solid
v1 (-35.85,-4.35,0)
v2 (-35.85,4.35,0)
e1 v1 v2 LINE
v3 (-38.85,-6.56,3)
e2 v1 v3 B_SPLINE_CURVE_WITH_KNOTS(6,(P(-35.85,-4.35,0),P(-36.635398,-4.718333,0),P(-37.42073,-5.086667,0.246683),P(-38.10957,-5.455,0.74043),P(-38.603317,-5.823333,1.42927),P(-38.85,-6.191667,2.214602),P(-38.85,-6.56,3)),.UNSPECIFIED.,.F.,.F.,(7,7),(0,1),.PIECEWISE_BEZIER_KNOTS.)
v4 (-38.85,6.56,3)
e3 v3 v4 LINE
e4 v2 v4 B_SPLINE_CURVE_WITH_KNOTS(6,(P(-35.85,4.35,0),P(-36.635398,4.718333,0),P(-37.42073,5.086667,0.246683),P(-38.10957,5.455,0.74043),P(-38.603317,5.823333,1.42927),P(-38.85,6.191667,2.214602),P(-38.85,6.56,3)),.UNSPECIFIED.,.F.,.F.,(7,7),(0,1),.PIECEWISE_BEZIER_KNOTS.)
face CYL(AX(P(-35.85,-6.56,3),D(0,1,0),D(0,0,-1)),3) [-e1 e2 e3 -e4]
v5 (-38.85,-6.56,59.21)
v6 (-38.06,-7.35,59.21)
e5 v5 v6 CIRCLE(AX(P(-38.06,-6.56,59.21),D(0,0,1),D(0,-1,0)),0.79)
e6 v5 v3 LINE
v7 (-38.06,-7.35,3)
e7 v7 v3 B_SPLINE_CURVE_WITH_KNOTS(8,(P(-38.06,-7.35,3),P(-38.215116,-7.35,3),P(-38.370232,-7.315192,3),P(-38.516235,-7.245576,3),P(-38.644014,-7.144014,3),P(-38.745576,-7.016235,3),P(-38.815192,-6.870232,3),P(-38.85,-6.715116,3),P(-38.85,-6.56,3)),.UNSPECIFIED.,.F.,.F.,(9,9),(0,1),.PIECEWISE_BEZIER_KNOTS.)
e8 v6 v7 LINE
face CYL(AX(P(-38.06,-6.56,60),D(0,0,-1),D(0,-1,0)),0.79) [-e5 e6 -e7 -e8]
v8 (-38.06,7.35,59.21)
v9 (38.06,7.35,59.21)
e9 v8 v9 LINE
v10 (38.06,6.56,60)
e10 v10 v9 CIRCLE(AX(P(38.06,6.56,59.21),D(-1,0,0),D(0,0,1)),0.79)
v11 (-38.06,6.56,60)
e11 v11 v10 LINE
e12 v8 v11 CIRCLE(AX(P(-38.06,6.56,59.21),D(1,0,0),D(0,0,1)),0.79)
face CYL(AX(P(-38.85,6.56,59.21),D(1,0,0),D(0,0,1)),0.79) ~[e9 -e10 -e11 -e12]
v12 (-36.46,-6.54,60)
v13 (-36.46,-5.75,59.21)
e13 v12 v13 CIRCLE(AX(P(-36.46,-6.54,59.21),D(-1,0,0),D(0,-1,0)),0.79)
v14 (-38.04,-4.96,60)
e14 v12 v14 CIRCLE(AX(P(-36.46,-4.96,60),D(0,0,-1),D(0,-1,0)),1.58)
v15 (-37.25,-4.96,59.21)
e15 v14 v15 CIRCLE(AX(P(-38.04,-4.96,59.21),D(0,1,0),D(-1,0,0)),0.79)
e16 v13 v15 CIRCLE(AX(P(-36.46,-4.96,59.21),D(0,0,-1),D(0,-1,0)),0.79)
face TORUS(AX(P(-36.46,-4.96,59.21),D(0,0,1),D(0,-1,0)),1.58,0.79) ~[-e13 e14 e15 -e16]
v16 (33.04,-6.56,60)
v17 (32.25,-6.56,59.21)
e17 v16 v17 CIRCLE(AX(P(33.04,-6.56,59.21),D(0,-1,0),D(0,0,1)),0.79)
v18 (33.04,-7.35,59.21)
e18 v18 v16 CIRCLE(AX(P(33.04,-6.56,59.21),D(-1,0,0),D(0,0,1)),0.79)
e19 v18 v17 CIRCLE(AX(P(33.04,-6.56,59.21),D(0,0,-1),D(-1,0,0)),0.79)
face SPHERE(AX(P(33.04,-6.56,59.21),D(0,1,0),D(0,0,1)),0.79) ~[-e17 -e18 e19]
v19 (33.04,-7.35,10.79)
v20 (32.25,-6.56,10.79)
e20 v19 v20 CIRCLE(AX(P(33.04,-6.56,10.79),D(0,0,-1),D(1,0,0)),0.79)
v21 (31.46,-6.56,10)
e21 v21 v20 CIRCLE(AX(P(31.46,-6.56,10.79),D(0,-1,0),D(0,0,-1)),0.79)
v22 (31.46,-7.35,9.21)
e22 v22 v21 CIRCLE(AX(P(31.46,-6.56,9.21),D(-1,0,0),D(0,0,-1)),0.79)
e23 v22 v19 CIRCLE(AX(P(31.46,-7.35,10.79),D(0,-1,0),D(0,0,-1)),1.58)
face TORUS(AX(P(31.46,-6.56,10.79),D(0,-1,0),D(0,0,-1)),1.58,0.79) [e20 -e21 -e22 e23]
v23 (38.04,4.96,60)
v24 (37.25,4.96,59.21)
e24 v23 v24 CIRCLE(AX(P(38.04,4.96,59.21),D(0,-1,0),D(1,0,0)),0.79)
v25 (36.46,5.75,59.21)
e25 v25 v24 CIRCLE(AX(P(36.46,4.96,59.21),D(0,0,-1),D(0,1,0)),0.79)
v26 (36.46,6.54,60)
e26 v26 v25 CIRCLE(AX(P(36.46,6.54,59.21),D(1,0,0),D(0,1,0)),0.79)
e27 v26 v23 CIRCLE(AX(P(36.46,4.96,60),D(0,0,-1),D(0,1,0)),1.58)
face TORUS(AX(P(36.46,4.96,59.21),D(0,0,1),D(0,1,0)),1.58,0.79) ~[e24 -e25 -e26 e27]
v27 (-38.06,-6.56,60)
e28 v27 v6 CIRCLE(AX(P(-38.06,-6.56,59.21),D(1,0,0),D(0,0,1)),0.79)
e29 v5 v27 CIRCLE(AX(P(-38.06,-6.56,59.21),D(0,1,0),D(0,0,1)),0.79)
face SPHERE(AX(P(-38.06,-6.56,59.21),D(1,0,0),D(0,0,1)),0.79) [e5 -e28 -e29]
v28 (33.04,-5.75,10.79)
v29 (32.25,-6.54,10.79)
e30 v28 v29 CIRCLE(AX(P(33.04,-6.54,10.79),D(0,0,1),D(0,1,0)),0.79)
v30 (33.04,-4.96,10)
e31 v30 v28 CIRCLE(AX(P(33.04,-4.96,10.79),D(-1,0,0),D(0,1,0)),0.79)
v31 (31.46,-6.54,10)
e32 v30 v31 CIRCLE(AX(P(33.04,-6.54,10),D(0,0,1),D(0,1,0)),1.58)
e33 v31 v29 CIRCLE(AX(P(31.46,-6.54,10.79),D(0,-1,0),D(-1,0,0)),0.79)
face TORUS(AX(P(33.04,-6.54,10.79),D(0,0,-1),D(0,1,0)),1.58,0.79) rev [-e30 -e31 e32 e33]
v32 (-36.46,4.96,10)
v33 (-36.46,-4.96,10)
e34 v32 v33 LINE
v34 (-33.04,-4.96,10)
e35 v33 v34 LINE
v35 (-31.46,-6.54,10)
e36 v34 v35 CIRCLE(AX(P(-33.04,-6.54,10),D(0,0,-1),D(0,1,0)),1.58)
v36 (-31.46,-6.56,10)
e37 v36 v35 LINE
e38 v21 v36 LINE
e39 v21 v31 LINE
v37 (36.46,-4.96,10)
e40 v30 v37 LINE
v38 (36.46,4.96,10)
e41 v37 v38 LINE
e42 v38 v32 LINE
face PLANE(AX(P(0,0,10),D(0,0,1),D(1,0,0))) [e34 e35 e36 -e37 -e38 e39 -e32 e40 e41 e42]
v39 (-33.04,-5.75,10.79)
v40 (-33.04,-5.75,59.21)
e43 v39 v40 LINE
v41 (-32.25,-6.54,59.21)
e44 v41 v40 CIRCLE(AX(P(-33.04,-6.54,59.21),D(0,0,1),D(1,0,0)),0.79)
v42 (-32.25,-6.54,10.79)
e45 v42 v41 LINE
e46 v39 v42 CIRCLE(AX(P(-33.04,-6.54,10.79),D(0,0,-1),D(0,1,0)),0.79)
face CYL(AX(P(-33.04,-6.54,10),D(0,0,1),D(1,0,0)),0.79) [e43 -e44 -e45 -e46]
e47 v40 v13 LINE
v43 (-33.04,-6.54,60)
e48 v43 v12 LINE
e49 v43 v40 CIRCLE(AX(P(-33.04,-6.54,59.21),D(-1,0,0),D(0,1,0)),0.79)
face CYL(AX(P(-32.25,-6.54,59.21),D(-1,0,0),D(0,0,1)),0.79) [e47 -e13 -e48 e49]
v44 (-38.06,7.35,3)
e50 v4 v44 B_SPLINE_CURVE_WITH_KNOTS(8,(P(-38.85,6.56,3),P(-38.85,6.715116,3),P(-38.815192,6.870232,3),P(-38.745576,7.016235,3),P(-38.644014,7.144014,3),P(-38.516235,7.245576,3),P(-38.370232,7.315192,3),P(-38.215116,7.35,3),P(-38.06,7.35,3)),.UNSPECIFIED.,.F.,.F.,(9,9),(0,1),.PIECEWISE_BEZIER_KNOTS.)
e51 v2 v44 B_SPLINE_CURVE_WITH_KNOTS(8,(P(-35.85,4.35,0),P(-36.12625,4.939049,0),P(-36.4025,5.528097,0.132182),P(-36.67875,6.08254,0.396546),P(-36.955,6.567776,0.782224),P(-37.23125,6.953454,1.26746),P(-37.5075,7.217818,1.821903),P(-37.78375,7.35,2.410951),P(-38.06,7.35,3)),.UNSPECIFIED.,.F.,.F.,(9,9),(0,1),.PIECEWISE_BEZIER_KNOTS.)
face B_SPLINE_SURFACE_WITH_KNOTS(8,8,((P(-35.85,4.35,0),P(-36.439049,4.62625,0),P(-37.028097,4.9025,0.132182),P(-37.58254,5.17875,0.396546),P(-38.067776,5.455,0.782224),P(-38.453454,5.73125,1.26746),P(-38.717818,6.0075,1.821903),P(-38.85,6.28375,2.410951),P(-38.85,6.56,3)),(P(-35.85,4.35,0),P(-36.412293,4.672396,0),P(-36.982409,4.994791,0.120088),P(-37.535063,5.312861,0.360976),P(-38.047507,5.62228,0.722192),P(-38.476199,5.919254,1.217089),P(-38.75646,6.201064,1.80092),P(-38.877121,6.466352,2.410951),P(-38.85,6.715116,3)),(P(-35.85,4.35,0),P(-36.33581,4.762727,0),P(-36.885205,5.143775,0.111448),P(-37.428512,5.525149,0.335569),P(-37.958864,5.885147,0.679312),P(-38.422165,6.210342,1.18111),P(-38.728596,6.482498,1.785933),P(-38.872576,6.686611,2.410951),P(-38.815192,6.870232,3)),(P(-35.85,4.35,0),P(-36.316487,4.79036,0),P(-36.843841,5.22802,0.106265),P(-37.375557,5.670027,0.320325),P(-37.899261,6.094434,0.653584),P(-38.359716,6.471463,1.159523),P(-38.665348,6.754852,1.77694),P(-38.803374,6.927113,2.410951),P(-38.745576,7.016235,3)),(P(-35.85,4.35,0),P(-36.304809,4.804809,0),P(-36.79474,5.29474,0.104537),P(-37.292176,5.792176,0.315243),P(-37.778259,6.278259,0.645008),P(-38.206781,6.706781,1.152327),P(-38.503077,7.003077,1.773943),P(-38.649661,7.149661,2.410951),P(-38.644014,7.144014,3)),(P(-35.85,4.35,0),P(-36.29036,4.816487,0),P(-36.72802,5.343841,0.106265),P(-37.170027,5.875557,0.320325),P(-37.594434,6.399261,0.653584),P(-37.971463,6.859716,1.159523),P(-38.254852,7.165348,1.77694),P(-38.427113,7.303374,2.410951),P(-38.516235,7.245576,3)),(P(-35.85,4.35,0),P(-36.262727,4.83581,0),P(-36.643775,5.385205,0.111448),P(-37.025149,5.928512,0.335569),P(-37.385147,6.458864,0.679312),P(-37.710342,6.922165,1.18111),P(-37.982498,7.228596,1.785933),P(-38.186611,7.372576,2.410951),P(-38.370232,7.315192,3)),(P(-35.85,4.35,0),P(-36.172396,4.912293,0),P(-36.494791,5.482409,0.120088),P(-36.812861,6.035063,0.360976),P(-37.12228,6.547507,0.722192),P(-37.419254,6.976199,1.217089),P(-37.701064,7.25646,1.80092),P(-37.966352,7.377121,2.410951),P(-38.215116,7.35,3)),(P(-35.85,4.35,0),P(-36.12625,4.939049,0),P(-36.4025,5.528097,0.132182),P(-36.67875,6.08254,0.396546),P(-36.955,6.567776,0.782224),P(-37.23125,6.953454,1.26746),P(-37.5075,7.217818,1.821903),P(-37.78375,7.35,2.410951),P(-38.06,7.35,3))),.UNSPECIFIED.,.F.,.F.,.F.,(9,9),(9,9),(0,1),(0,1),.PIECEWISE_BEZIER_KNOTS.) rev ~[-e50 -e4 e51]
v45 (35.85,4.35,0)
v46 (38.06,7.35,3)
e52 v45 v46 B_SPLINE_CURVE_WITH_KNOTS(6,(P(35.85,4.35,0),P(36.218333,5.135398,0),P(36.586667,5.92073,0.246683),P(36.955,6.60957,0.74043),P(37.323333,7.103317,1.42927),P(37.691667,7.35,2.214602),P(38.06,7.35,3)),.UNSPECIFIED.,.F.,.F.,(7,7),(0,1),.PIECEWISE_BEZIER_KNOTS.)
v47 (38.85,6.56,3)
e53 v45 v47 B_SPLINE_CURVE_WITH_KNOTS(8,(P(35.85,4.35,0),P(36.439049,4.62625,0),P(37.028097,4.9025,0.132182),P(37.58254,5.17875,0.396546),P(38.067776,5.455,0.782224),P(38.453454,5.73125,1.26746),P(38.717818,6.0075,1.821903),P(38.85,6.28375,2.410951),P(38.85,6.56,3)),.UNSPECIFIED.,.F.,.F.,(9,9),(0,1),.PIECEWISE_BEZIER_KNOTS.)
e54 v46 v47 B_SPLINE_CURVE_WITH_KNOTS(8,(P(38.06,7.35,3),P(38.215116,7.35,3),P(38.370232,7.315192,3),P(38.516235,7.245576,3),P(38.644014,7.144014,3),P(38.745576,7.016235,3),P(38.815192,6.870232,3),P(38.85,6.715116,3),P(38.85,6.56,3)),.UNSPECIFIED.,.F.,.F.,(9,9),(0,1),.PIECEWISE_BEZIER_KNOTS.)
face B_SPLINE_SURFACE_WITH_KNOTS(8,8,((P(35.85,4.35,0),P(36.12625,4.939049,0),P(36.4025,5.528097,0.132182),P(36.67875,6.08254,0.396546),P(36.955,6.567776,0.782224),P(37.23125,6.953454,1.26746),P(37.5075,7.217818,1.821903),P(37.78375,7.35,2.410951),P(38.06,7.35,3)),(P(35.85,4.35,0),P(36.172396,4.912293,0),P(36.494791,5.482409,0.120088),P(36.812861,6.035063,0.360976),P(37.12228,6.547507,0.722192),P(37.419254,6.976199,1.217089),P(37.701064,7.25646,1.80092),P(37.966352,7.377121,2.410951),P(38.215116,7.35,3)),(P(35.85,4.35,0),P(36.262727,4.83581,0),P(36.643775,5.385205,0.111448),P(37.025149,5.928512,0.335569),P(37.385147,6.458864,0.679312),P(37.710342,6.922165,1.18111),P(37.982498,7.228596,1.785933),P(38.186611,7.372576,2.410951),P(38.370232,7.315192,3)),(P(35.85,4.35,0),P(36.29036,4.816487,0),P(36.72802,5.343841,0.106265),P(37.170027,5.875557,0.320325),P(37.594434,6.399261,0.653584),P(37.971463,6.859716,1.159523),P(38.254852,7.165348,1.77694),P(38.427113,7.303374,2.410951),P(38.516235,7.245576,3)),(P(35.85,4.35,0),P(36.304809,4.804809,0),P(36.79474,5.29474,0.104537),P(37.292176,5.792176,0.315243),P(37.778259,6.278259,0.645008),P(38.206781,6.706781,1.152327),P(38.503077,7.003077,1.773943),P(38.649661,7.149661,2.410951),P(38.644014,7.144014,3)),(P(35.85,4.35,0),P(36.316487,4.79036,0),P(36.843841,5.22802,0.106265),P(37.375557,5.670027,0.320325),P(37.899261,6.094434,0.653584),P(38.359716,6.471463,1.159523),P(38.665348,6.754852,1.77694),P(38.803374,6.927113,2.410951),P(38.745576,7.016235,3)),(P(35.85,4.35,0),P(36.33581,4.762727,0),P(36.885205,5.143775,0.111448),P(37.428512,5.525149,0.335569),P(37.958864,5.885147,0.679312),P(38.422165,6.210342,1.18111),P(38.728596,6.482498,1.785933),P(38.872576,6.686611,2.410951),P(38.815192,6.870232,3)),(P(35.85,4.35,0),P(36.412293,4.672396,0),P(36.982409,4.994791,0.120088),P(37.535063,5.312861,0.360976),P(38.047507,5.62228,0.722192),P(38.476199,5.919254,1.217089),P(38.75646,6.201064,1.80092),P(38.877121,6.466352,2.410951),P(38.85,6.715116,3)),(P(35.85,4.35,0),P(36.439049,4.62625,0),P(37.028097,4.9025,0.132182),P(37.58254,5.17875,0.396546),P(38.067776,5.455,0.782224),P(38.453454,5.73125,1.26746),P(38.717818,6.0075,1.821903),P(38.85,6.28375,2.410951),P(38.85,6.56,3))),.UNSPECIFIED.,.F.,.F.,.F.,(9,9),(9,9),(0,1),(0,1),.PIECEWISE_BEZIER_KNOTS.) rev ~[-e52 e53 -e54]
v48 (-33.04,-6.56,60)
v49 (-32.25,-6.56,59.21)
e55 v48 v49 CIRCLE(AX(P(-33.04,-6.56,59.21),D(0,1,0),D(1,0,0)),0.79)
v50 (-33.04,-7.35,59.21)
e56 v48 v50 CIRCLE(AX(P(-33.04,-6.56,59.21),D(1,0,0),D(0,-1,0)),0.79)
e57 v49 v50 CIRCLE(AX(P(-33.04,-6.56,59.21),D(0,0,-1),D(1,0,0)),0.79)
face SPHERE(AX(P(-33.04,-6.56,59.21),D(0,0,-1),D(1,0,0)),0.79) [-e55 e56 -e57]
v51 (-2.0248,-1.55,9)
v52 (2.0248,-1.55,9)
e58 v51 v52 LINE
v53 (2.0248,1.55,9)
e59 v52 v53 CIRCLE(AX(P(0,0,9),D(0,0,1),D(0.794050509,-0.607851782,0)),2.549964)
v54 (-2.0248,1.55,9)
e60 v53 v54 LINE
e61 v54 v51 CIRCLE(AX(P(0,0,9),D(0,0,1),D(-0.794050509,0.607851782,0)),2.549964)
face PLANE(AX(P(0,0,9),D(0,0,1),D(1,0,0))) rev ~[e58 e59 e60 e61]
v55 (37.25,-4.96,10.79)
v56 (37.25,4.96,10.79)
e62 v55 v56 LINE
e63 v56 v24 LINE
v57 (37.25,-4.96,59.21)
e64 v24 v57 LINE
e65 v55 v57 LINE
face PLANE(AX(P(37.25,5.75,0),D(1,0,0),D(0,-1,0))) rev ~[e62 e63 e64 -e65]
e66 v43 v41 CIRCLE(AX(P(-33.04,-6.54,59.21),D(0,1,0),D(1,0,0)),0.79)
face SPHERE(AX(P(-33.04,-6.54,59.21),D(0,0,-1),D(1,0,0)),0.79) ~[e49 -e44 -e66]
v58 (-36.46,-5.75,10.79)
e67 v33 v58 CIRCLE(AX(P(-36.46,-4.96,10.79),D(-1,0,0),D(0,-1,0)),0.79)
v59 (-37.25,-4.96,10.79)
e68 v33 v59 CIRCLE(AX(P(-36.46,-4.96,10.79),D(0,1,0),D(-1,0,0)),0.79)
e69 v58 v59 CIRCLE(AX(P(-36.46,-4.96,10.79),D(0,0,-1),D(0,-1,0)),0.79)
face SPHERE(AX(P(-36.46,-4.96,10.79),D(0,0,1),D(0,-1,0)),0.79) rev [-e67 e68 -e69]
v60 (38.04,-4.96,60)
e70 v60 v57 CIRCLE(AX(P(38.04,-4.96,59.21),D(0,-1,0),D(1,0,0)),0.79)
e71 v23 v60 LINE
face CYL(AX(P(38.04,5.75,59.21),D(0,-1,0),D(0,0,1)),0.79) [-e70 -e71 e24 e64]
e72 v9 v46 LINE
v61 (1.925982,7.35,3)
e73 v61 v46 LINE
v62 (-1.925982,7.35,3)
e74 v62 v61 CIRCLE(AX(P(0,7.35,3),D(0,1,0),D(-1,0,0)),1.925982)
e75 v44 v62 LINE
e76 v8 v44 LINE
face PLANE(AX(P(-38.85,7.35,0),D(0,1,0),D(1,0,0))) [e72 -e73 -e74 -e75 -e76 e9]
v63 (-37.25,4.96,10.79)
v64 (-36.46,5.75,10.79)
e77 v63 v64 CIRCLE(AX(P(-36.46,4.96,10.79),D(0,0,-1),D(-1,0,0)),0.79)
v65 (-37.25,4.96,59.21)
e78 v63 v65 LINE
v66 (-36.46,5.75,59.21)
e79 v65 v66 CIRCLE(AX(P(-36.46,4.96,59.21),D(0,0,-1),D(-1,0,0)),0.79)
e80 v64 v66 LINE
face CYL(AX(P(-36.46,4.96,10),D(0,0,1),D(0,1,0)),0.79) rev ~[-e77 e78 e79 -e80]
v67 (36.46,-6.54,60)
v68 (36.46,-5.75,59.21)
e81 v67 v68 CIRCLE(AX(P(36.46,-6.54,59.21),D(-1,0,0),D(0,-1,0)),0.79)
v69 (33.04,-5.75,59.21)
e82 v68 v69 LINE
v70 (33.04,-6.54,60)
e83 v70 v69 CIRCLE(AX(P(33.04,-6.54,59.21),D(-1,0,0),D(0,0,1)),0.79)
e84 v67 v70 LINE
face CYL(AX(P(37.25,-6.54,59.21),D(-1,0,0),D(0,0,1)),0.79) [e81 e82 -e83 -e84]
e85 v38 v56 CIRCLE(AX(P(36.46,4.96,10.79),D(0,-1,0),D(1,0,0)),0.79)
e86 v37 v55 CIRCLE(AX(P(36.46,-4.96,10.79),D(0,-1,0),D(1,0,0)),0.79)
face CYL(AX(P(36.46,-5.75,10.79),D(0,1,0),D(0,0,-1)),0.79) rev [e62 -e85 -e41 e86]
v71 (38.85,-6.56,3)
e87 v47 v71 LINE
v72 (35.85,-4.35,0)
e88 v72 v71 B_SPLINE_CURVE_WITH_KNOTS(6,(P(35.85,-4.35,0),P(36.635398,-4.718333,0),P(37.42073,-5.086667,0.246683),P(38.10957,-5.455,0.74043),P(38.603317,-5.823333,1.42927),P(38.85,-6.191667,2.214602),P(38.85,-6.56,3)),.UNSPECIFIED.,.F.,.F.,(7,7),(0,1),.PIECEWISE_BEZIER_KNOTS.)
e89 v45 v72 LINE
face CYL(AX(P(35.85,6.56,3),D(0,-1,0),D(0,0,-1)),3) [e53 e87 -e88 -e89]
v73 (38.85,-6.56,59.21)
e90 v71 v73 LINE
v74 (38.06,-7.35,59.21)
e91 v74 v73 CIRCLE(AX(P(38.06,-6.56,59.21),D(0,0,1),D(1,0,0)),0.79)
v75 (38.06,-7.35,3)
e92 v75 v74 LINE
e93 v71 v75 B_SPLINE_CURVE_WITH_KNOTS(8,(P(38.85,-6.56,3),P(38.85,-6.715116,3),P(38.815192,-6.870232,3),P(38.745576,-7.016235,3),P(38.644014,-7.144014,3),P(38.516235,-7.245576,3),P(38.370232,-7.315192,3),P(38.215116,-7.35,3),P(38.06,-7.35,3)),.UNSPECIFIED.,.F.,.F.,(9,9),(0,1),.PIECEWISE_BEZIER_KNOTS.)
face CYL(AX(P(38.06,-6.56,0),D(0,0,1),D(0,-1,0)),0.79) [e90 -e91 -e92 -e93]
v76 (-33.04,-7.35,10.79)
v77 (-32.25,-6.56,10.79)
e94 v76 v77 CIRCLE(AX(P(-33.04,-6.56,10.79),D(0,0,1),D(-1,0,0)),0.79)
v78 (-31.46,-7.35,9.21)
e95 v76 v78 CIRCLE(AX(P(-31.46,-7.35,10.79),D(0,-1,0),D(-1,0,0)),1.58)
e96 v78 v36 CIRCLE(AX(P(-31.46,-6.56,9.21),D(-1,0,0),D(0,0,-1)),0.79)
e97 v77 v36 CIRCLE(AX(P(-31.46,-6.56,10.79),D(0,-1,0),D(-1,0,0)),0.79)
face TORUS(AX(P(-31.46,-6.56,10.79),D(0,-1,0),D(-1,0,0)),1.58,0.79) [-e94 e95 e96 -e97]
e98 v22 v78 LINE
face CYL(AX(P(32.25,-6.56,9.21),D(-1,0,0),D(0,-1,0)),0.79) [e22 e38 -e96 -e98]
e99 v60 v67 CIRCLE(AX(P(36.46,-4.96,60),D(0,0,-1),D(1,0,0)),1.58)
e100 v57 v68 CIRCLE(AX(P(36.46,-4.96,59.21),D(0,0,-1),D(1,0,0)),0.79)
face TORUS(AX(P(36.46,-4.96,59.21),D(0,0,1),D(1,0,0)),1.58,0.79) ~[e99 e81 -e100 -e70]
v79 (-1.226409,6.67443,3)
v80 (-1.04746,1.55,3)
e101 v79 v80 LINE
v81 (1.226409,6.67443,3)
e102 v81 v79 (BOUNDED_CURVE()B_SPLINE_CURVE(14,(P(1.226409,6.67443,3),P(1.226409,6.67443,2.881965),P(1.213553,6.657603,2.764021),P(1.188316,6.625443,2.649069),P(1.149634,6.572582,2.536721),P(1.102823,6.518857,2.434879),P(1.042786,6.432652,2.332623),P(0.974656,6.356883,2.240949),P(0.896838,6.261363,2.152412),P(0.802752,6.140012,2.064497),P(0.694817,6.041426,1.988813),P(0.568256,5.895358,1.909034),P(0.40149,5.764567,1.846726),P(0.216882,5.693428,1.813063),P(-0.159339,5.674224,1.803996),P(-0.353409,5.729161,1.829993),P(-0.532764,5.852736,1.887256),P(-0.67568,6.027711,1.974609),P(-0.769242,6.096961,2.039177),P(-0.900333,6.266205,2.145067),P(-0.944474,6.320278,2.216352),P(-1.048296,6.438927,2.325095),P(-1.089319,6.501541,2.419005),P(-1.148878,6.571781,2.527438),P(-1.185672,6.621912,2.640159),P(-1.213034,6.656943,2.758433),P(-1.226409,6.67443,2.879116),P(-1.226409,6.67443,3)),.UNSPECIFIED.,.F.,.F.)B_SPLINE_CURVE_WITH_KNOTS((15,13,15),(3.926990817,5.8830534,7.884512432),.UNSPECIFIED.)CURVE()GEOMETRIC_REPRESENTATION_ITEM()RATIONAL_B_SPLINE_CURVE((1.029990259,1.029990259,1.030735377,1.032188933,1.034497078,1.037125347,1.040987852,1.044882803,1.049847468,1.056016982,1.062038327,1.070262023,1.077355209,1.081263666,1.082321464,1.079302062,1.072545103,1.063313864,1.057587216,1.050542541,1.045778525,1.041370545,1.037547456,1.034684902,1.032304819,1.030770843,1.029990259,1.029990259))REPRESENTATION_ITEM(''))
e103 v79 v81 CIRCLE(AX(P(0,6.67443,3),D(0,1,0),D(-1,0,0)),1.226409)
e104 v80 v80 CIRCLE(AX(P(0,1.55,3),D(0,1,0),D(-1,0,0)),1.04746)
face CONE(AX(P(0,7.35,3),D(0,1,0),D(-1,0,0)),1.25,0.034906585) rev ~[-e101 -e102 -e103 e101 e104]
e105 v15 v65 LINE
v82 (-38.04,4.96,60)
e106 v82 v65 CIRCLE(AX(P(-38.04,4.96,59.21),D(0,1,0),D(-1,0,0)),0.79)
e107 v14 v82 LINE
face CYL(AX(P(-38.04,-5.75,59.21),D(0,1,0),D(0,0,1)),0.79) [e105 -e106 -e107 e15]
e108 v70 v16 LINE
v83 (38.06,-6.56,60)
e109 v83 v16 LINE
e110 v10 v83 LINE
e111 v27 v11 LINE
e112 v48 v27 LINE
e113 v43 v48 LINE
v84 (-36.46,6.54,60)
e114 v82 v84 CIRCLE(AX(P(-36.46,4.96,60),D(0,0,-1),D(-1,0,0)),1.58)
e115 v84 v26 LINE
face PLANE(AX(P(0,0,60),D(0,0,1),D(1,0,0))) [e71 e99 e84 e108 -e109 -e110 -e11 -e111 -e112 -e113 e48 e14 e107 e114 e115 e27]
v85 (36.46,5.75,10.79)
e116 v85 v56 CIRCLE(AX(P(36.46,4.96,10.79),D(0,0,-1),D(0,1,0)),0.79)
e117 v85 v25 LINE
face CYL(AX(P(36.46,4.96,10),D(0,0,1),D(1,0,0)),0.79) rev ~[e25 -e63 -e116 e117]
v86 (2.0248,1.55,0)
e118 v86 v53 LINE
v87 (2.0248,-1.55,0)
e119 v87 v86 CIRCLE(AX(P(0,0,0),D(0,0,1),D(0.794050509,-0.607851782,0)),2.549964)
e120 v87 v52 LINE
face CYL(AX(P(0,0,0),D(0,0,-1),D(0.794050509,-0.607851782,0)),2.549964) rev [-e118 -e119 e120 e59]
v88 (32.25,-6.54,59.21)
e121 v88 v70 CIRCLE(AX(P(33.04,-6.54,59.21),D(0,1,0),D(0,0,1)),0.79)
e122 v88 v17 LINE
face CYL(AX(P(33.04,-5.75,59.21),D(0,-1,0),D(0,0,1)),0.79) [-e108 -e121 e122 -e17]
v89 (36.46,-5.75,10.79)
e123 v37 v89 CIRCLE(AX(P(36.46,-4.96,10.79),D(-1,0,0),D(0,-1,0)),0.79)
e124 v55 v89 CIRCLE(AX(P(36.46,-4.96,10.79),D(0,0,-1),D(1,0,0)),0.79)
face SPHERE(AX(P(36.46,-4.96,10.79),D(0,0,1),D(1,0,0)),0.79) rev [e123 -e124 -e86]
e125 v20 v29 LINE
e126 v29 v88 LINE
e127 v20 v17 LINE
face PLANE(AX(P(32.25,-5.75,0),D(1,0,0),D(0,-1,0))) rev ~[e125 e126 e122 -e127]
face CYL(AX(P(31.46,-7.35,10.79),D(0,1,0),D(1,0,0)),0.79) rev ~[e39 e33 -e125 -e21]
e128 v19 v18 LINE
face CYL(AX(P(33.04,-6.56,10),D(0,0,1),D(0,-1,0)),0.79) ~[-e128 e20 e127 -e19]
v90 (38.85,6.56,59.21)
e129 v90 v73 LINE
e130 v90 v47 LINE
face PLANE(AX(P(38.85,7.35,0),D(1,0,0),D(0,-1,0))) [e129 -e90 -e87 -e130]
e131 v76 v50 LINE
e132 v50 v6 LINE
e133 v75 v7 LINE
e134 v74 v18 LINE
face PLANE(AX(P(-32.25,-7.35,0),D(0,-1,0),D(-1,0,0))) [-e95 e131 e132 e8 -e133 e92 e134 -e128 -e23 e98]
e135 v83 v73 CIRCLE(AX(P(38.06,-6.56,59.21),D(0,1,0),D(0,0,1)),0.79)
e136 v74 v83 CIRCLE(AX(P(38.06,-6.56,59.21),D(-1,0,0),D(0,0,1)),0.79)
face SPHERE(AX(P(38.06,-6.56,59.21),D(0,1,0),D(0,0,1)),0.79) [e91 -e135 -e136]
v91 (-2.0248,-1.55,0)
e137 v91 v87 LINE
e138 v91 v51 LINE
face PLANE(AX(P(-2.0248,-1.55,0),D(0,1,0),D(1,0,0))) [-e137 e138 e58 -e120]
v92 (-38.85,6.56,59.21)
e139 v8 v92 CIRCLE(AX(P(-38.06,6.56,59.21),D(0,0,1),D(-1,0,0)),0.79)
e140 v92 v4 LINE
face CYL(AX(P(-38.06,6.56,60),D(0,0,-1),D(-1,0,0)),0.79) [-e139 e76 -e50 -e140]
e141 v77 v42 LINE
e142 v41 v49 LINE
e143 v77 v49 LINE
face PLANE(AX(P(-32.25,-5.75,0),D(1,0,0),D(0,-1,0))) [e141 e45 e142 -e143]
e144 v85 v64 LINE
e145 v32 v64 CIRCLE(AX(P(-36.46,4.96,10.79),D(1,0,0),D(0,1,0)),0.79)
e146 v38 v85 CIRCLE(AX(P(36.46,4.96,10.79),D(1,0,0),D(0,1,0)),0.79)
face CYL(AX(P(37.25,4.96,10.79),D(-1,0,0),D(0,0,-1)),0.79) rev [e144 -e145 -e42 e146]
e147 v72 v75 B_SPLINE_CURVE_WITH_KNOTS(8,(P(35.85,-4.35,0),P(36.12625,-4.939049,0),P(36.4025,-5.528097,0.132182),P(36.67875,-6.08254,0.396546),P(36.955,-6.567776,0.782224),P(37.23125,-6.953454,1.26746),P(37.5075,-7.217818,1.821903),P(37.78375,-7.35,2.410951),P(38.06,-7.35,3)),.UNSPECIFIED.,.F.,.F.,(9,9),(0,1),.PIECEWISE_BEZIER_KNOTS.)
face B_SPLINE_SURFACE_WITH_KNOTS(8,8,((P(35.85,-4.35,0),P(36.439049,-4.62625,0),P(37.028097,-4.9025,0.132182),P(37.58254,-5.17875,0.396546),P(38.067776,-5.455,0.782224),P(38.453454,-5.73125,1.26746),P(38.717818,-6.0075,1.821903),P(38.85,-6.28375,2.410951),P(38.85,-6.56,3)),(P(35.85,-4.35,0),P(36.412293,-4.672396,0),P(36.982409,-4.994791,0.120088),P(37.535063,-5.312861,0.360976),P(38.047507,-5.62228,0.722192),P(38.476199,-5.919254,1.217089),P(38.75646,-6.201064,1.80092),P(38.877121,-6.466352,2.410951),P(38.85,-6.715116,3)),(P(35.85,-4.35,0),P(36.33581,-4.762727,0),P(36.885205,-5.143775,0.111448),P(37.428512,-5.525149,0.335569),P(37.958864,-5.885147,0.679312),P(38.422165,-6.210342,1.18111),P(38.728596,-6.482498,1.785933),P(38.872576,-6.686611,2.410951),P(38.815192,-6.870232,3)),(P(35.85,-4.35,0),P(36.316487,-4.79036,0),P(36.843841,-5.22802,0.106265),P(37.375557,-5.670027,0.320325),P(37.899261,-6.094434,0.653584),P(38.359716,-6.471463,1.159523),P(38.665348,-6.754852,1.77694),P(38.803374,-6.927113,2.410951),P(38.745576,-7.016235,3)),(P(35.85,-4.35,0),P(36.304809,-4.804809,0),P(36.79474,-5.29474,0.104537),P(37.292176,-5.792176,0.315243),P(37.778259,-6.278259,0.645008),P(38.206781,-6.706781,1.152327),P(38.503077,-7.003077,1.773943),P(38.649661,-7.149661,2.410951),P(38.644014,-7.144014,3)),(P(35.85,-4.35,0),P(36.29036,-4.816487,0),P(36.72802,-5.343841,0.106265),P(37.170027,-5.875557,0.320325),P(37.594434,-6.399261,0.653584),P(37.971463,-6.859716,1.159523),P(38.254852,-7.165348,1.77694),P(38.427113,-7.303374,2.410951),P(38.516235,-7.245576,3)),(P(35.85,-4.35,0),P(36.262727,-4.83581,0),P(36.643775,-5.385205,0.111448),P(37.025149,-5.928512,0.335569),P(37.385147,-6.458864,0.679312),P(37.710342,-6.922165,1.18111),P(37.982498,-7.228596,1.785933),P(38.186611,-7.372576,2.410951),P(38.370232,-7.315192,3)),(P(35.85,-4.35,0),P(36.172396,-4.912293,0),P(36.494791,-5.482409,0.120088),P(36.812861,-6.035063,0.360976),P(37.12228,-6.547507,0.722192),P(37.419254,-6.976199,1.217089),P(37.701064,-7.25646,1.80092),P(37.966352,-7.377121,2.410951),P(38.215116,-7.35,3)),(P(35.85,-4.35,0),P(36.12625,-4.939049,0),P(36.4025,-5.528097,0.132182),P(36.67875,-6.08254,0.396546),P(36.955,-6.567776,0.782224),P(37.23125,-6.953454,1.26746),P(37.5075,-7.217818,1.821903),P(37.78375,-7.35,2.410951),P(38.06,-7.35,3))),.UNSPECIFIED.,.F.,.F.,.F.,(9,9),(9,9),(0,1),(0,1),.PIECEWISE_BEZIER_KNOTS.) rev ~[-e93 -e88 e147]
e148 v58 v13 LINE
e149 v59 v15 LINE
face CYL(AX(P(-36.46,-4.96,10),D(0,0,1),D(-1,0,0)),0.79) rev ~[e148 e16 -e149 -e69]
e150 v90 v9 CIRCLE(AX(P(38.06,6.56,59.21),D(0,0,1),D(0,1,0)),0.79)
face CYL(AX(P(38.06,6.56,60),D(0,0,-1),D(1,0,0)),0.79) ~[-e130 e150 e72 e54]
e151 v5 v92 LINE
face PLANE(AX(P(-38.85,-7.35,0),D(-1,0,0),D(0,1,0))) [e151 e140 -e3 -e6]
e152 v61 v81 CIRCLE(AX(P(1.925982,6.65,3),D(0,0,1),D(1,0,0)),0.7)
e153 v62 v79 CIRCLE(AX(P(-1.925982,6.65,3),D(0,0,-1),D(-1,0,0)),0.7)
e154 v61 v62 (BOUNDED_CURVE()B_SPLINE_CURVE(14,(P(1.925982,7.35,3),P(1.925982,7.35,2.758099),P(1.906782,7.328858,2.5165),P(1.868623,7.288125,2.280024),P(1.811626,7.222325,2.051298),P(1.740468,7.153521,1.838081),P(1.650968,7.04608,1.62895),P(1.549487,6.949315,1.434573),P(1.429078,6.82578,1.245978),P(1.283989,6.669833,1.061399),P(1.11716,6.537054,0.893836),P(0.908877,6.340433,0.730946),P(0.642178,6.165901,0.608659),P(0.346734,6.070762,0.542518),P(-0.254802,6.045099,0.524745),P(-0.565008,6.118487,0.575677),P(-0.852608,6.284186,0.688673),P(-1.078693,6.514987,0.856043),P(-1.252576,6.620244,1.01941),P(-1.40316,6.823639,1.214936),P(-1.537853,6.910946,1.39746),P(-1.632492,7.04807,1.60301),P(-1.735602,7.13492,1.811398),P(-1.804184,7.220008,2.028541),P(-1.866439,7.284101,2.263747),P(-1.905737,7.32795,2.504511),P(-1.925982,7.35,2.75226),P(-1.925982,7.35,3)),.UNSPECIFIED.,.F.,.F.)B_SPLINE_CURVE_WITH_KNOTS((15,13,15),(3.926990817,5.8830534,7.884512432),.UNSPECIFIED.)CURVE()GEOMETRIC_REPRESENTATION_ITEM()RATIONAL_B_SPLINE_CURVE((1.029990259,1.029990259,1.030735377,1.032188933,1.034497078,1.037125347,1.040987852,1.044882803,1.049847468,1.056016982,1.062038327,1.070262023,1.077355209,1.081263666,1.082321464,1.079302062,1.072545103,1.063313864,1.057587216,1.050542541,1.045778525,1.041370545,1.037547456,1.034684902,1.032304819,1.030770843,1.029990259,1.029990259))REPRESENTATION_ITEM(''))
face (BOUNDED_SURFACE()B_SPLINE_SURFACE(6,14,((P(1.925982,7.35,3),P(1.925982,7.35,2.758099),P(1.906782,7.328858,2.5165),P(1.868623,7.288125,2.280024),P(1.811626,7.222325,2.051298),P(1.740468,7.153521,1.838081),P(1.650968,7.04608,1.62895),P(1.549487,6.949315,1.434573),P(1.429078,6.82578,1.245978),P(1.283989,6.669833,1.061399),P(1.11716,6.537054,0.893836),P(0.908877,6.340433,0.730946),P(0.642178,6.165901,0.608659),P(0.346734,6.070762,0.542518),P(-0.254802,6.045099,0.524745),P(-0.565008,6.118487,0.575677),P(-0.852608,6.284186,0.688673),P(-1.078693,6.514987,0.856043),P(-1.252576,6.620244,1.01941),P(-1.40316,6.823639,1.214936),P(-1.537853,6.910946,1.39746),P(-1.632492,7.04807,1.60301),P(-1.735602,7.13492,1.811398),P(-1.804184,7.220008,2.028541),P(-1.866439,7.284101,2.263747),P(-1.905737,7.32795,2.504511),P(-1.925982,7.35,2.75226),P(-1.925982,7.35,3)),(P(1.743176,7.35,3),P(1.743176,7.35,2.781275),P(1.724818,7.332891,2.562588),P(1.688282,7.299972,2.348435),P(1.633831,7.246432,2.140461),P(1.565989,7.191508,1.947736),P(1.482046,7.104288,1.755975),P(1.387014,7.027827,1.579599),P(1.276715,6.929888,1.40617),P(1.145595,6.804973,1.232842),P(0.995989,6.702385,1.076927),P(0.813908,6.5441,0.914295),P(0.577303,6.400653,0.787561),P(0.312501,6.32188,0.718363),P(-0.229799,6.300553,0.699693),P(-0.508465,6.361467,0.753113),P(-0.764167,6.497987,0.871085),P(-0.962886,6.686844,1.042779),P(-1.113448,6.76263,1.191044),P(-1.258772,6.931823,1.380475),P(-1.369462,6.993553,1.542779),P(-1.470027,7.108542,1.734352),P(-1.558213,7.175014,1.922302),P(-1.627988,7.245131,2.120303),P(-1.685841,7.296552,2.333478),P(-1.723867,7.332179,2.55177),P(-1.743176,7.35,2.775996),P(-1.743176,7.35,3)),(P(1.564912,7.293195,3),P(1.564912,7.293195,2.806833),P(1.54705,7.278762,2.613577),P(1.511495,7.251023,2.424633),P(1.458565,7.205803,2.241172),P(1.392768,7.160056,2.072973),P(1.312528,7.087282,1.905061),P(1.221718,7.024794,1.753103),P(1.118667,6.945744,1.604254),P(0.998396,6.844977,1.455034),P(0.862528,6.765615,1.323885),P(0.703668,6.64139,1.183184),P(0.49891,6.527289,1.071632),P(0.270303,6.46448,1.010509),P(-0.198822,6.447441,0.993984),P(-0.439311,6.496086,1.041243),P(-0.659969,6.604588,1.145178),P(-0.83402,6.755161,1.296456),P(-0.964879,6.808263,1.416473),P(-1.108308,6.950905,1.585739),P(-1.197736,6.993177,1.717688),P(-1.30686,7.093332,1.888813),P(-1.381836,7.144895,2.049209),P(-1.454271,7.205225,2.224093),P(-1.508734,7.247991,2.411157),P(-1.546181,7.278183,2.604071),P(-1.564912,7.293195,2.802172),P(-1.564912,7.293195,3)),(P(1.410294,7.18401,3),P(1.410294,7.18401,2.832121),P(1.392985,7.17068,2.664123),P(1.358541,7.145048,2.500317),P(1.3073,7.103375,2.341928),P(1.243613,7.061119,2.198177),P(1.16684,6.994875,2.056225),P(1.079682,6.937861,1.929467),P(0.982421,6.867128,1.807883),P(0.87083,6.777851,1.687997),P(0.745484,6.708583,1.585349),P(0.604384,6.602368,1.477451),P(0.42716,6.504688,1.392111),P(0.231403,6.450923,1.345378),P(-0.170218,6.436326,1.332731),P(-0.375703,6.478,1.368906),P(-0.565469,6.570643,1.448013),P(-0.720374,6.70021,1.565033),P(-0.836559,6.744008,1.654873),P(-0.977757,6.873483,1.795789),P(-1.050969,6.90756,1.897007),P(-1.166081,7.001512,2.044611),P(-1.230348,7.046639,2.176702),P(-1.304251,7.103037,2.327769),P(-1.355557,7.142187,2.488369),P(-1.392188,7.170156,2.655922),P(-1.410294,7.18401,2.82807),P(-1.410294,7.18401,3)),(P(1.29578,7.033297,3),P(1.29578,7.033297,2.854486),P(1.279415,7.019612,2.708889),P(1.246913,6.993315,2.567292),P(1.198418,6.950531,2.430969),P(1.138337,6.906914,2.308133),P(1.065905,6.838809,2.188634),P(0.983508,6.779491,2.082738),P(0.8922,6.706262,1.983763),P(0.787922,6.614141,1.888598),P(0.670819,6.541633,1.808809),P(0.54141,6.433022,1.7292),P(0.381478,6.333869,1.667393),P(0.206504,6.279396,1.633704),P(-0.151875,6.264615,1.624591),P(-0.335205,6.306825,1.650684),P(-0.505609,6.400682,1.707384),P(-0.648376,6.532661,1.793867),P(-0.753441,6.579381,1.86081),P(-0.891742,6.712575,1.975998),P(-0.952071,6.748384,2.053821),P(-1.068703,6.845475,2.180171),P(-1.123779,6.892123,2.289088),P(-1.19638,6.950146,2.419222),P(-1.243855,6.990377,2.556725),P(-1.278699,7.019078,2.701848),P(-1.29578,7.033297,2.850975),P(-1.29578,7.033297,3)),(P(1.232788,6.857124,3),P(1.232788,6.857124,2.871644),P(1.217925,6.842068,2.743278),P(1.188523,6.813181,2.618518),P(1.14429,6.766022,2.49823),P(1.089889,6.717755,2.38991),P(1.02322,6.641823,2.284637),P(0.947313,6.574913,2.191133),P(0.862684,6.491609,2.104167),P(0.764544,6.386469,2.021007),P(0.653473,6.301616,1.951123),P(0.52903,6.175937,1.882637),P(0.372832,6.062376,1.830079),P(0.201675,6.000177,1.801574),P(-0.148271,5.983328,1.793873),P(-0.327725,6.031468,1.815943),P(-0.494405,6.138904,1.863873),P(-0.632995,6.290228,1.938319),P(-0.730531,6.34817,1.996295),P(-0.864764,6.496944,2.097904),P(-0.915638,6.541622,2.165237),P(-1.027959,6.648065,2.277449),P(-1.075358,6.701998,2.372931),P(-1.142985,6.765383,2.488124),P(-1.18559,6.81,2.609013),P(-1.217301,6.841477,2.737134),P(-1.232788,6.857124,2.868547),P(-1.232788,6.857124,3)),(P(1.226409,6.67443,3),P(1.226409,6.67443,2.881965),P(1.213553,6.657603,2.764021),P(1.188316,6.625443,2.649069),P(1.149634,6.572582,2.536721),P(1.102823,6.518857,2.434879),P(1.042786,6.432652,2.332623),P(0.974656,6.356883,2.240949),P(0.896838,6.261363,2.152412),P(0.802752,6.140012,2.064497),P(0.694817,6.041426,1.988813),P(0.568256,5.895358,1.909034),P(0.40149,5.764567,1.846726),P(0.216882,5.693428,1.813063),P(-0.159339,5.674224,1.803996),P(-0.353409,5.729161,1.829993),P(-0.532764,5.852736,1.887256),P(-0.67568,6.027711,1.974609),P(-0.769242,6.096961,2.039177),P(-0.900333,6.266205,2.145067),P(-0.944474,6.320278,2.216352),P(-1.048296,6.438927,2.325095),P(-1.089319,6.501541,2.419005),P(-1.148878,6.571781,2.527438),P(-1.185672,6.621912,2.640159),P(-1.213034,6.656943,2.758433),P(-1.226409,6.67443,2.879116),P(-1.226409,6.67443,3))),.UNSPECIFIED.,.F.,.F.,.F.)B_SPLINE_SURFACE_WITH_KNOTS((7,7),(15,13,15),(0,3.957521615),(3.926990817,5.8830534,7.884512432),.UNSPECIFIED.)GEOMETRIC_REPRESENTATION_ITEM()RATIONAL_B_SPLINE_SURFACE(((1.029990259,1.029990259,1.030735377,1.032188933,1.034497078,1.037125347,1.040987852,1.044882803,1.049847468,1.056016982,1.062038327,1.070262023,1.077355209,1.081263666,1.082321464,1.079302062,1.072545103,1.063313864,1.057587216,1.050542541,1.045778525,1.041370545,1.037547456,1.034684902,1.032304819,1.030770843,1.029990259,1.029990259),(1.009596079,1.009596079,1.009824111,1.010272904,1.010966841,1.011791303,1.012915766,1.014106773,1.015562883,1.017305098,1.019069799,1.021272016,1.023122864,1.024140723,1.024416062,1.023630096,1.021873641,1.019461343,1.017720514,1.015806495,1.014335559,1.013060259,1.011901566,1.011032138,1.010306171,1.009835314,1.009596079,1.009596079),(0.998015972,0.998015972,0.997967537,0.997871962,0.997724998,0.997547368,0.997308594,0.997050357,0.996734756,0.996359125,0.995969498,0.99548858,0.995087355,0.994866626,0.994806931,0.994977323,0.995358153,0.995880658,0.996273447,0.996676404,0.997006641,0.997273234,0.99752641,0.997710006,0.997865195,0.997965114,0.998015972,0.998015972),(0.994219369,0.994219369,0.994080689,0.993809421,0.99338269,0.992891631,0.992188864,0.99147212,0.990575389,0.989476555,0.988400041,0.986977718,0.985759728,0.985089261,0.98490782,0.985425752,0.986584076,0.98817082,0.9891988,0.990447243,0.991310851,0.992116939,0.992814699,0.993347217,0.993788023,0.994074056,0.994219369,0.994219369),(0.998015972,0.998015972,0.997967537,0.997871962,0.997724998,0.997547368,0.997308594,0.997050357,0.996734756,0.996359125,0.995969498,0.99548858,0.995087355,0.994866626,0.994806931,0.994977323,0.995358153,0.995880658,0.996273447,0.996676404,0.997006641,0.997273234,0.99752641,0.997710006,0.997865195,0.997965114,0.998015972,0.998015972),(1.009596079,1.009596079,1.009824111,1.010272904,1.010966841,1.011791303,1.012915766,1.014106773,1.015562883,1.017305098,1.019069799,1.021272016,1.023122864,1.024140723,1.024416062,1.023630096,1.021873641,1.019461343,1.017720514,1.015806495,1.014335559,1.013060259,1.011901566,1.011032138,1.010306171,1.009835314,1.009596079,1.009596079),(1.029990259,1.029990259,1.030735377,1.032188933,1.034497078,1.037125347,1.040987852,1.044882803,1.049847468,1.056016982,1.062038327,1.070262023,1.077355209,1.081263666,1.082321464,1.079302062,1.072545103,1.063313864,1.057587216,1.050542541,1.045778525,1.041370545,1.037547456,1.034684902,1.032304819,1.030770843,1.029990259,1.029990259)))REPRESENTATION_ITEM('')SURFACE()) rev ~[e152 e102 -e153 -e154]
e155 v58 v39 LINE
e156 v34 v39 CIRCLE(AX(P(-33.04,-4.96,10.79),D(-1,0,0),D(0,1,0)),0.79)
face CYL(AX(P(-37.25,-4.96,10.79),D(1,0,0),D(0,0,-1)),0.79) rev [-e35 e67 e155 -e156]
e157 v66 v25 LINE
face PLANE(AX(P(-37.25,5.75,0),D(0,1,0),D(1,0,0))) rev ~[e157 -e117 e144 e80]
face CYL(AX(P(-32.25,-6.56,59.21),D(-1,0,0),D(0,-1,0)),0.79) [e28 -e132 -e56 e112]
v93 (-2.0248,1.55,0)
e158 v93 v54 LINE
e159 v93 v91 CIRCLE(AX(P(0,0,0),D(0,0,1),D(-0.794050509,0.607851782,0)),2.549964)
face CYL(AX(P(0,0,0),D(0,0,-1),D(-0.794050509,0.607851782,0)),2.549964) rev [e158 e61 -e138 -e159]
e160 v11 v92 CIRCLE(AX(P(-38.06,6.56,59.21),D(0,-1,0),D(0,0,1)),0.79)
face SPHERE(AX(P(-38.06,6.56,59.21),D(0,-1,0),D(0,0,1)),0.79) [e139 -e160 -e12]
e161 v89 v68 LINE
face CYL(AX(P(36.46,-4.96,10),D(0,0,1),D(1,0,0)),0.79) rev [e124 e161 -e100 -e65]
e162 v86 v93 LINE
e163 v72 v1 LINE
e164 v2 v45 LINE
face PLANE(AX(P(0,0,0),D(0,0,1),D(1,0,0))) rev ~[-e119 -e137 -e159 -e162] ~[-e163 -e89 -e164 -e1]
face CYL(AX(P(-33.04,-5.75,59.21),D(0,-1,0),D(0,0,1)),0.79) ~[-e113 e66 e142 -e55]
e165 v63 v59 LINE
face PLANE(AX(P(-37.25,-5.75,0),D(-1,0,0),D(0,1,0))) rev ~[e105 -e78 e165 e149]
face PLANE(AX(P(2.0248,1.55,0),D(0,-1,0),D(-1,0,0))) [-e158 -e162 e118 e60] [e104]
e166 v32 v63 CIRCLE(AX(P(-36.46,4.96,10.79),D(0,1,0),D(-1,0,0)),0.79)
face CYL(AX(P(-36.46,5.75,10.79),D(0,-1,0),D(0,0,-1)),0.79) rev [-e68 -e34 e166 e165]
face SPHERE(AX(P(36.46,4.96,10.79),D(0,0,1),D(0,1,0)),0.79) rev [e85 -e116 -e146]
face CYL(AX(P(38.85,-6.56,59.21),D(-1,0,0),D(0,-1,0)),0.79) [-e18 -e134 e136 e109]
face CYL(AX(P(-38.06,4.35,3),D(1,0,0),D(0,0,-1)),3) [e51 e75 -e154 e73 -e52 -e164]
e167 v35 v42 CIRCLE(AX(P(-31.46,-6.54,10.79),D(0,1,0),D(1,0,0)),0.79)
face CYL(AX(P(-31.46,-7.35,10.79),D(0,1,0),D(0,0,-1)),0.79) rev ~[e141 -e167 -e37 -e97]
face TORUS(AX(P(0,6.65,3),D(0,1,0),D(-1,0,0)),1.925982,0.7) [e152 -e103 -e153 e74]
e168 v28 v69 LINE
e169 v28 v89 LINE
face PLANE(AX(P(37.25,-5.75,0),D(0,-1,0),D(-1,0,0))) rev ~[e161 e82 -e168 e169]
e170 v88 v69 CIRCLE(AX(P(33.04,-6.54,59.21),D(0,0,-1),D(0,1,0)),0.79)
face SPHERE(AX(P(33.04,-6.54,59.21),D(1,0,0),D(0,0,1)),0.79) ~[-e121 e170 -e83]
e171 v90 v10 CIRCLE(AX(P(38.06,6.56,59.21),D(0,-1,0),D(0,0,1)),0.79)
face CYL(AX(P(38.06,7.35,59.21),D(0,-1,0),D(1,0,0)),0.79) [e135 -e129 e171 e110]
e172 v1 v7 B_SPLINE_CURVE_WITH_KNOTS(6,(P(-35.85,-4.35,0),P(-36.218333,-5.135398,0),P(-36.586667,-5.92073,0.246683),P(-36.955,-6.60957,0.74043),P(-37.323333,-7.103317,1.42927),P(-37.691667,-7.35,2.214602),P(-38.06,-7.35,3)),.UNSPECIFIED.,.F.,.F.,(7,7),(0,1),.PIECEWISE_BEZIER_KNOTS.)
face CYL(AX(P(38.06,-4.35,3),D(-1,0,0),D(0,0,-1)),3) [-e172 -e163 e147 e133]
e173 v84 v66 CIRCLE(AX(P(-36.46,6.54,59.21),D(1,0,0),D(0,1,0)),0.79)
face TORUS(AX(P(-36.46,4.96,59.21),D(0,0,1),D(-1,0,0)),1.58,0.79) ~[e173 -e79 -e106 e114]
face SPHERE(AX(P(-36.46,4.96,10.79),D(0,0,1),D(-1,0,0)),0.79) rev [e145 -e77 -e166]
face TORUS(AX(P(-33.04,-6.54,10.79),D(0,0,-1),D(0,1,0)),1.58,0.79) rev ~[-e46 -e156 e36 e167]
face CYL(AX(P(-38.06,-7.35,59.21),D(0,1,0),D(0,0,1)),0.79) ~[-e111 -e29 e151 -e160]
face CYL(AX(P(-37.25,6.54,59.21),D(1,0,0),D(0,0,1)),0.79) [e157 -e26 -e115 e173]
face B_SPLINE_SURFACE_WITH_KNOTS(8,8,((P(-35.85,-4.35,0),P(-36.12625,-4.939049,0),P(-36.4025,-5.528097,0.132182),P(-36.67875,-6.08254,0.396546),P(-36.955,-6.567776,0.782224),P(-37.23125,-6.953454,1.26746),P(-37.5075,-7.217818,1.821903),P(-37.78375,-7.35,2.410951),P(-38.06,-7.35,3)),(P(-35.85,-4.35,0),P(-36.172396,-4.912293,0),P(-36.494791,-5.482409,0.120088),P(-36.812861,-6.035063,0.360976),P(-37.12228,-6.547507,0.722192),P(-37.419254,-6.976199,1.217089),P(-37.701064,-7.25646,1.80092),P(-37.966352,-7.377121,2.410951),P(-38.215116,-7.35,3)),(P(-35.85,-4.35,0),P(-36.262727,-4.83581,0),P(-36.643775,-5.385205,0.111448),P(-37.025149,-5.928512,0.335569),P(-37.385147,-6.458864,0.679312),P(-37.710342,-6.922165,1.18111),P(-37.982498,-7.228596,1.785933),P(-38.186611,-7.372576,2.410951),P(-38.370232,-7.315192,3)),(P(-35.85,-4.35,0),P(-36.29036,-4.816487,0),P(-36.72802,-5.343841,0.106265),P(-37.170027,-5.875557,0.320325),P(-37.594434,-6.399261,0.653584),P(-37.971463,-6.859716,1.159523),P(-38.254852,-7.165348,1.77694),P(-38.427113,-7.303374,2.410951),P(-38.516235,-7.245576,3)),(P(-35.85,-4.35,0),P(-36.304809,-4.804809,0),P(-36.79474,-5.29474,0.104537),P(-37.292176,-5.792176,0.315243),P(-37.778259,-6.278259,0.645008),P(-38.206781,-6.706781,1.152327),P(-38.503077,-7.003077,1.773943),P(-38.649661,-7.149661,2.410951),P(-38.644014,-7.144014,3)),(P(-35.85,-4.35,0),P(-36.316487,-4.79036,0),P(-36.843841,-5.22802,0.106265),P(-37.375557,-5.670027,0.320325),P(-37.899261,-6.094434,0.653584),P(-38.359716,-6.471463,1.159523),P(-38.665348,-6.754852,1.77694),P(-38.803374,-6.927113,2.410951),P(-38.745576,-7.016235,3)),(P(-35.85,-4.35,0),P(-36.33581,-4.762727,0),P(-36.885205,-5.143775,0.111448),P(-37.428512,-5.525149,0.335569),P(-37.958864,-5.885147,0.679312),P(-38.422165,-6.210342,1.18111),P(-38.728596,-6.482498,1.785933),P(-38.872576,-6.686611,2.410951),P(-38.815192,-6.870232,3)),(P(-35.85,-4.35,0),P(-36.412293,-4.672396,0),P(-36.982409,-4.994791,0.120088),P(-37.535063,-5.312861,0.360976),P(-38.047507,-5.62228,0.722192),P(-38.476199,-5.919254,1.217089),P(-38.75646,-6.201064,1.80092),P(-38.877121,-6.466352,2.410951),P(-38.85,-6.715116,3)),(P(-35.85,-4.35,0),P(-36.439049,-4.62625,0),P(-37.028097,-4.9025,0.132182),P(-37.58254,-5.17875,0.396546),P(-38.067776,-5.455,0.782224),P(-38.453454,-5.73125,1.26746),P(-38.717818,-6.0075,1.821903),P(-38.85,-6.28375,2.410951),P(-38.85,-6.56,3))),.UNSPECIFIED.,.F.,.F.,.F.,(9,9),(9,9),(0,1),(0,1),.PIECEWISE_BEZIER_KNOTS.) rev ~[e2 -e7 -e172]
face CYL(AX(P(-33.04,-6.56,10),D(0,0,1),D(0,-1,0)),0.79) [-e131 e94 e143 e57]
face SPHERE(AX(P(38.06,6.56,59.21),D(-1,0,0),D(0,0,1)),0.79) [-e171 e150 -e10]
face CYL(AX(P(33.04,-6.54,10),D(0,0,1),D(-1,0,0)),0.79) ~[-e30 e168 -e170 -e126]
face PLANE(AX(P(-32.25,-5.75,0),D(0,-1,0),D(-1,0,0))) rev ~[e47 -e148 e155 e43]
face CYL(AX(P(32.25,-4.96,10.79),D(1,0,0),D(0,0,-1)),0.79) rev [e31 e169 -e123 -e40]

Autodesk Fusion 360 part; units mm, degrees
sketch "Sketch1" plane through (0, 0, 0) normal (0, 0, 1) x (1, 0, 0)
  line L0 (37.25, -5.75) -> (-37.25, -5.75)
  line L1 (-37.25, -5.75) -> (-37.25, 5.75)
  line L2 (-37.25, 5.75) -> (37.25, 5.75)
  line L3 (37.25, 5.75) -> (37.25, -5.75)
  line L4 (37.25, -5.75) -> (-37.25, 5.75) construction
  line L5 (-37.25, -5.75) -> (37.25, 5.75) construction
  line L6 (38.85, -7.35) -> (-38.85, -7.35)
  line L7 (-38.85, -7.35) -> (-38.85, 7.35)
  line L8 (-38.85, 7.35) -> (38.85, 7.35)
  line L9 (38.85, 7.35) -> (38.85, -7.35)
  line L10 (38.85, -7.35) -> (-38.85, 7.35) construction
  line L11 (-38.85, -7.35) -> (38.85, 7.35) construction
  line L12 (0, 0) -> (0, -13) construction
  line L13 (-32.25, -5.75) -> (-32.25, -7.35)
  line L14 (32.25, -5.75) -> (32.25, -7.35)
  line L15 (-2.0248, -1.55) -> (2.0248, -1.55)
  line L16 (2.0248, 1.55) -> (-2.0248, 1.55)
  line L17 (-2.0248, -1.55) -> (-2.0248, 1.55) construction
  arc A0 (-2.0248, 1.55) -> (-2.0248, -1.55) centre (0, 0) ccw
  arc A1 (2.0248, -1.55) -> (2.0248, 1.55) centre (0, 0) ccw
  point P0 (-2.0248, 0)
  dimension "d1" = 74.5
  dimension "d2" = 11.5
  dimension "d3" = 77.7
  dimension "d4" = 14.7
  dimension "d5" = 32.25
  dimension "d6" = 32.25
  dimension "d11" = 5.1
  dimension "d26" = 3.1
extrude "Extrude1" add sketch "Sketch1" along normal blind 10 contours L0 L1 L2 L3 L6 L7 L8 L9 L13 L14 | L0 L1 L2 L3 | L0 L6 L13 L14 | L15 L16 A0 A1
extrude "Extrude2" add sketch "Sketch1" along normal blind 60 contours L0 L1 L2 L3 L6 L7 L8 L9 L13 L14
extrude "Extrude3" cut sketch "Sketch1" along normal blind 9 contours L15 L16 A0 A1
sketch "Sketch3" plane through (0, 7.35, 0) normal (0, 1, 0) x (-1, 0, 0)
  line L0 (-38.85, 0) -> (38.85, 0)
  line L1 (38.85, 0) -> (38.85, 60)
  line L2 (38.85, 60) -> (-38.85, 60)
  line L3 (-38.85, 60) -> (-38.85, 0)
  line L4 (0, 0) -> (0, 3) construction
  circle A0 centre (0, 3) radius 1.25
  dimension "d14" = 3
  dimension "d15" = 2.5
fillet "Fillet1" radius 0.79 32 edges at (-32.25, -7.35, 35) (-32.25, -5.75, 35) (0, -7.35, 10) (-32.25, -6.55, 60) (-35.55, -7.35, 60) (-34.75, -5.75, 60) (-37.25, 0, 60) (-38.85, 0, 60) (0, 7.35, 60) (0, 5.75, 60) (38.85, 0, 60) (37.25, 0, 60) (34.75, -5.75, 60) (32.25, -6.55, 60) (35.55, -7.35, 60) (32.25, -7.35, 35) (38.85, -7.35, 30) (38.85, 7.35, 30) (32.25, -5.75, 35) (37.25, 5.75, 35) (-37.25, -5.75, 35) (37.25, -5.75, 35) (-37.25, 5.75, 35) (-34.75, -5.75, 10) (-37.25, 0, 10) (0, 5.75, 10) (37.25, 0, 10) (34.75, -5.75, 10) (32.25, -6.55, 10) (-32.25, -6.55, 10) (-38.85, 7.35, 30) (-38.85, -7.35, 30)
fillet "Fillet2" radius 3 8 edges at (-38.85, 0, 0) (-38.6186, -7.1186, 0) (0, -7.35, 0) (38.6186, -7.1186, 0) (38.85, 0, 0) (38.6186, 7.1186, 0) (0, 7.35, 0) (-38.6186, 7.1186, 0)
extrude "Extrude4" cut sketch "Sketch3" against normal blind 7 draft -2 contours A0
fillet "Fillet3" radius 0.7 2 edges at (0, 7.35, 4.25) (0, 7.0815, 1.7594)
equation "d3 = d1 + ( 1.6 * 2 ) * 1 mm"
equation "d4 = d2 + ( 1.6 * 2 ) * 1 mm"
equation "d5 = ( d1 / 2 ) - 5 mm"
equation "d6 = d5"
